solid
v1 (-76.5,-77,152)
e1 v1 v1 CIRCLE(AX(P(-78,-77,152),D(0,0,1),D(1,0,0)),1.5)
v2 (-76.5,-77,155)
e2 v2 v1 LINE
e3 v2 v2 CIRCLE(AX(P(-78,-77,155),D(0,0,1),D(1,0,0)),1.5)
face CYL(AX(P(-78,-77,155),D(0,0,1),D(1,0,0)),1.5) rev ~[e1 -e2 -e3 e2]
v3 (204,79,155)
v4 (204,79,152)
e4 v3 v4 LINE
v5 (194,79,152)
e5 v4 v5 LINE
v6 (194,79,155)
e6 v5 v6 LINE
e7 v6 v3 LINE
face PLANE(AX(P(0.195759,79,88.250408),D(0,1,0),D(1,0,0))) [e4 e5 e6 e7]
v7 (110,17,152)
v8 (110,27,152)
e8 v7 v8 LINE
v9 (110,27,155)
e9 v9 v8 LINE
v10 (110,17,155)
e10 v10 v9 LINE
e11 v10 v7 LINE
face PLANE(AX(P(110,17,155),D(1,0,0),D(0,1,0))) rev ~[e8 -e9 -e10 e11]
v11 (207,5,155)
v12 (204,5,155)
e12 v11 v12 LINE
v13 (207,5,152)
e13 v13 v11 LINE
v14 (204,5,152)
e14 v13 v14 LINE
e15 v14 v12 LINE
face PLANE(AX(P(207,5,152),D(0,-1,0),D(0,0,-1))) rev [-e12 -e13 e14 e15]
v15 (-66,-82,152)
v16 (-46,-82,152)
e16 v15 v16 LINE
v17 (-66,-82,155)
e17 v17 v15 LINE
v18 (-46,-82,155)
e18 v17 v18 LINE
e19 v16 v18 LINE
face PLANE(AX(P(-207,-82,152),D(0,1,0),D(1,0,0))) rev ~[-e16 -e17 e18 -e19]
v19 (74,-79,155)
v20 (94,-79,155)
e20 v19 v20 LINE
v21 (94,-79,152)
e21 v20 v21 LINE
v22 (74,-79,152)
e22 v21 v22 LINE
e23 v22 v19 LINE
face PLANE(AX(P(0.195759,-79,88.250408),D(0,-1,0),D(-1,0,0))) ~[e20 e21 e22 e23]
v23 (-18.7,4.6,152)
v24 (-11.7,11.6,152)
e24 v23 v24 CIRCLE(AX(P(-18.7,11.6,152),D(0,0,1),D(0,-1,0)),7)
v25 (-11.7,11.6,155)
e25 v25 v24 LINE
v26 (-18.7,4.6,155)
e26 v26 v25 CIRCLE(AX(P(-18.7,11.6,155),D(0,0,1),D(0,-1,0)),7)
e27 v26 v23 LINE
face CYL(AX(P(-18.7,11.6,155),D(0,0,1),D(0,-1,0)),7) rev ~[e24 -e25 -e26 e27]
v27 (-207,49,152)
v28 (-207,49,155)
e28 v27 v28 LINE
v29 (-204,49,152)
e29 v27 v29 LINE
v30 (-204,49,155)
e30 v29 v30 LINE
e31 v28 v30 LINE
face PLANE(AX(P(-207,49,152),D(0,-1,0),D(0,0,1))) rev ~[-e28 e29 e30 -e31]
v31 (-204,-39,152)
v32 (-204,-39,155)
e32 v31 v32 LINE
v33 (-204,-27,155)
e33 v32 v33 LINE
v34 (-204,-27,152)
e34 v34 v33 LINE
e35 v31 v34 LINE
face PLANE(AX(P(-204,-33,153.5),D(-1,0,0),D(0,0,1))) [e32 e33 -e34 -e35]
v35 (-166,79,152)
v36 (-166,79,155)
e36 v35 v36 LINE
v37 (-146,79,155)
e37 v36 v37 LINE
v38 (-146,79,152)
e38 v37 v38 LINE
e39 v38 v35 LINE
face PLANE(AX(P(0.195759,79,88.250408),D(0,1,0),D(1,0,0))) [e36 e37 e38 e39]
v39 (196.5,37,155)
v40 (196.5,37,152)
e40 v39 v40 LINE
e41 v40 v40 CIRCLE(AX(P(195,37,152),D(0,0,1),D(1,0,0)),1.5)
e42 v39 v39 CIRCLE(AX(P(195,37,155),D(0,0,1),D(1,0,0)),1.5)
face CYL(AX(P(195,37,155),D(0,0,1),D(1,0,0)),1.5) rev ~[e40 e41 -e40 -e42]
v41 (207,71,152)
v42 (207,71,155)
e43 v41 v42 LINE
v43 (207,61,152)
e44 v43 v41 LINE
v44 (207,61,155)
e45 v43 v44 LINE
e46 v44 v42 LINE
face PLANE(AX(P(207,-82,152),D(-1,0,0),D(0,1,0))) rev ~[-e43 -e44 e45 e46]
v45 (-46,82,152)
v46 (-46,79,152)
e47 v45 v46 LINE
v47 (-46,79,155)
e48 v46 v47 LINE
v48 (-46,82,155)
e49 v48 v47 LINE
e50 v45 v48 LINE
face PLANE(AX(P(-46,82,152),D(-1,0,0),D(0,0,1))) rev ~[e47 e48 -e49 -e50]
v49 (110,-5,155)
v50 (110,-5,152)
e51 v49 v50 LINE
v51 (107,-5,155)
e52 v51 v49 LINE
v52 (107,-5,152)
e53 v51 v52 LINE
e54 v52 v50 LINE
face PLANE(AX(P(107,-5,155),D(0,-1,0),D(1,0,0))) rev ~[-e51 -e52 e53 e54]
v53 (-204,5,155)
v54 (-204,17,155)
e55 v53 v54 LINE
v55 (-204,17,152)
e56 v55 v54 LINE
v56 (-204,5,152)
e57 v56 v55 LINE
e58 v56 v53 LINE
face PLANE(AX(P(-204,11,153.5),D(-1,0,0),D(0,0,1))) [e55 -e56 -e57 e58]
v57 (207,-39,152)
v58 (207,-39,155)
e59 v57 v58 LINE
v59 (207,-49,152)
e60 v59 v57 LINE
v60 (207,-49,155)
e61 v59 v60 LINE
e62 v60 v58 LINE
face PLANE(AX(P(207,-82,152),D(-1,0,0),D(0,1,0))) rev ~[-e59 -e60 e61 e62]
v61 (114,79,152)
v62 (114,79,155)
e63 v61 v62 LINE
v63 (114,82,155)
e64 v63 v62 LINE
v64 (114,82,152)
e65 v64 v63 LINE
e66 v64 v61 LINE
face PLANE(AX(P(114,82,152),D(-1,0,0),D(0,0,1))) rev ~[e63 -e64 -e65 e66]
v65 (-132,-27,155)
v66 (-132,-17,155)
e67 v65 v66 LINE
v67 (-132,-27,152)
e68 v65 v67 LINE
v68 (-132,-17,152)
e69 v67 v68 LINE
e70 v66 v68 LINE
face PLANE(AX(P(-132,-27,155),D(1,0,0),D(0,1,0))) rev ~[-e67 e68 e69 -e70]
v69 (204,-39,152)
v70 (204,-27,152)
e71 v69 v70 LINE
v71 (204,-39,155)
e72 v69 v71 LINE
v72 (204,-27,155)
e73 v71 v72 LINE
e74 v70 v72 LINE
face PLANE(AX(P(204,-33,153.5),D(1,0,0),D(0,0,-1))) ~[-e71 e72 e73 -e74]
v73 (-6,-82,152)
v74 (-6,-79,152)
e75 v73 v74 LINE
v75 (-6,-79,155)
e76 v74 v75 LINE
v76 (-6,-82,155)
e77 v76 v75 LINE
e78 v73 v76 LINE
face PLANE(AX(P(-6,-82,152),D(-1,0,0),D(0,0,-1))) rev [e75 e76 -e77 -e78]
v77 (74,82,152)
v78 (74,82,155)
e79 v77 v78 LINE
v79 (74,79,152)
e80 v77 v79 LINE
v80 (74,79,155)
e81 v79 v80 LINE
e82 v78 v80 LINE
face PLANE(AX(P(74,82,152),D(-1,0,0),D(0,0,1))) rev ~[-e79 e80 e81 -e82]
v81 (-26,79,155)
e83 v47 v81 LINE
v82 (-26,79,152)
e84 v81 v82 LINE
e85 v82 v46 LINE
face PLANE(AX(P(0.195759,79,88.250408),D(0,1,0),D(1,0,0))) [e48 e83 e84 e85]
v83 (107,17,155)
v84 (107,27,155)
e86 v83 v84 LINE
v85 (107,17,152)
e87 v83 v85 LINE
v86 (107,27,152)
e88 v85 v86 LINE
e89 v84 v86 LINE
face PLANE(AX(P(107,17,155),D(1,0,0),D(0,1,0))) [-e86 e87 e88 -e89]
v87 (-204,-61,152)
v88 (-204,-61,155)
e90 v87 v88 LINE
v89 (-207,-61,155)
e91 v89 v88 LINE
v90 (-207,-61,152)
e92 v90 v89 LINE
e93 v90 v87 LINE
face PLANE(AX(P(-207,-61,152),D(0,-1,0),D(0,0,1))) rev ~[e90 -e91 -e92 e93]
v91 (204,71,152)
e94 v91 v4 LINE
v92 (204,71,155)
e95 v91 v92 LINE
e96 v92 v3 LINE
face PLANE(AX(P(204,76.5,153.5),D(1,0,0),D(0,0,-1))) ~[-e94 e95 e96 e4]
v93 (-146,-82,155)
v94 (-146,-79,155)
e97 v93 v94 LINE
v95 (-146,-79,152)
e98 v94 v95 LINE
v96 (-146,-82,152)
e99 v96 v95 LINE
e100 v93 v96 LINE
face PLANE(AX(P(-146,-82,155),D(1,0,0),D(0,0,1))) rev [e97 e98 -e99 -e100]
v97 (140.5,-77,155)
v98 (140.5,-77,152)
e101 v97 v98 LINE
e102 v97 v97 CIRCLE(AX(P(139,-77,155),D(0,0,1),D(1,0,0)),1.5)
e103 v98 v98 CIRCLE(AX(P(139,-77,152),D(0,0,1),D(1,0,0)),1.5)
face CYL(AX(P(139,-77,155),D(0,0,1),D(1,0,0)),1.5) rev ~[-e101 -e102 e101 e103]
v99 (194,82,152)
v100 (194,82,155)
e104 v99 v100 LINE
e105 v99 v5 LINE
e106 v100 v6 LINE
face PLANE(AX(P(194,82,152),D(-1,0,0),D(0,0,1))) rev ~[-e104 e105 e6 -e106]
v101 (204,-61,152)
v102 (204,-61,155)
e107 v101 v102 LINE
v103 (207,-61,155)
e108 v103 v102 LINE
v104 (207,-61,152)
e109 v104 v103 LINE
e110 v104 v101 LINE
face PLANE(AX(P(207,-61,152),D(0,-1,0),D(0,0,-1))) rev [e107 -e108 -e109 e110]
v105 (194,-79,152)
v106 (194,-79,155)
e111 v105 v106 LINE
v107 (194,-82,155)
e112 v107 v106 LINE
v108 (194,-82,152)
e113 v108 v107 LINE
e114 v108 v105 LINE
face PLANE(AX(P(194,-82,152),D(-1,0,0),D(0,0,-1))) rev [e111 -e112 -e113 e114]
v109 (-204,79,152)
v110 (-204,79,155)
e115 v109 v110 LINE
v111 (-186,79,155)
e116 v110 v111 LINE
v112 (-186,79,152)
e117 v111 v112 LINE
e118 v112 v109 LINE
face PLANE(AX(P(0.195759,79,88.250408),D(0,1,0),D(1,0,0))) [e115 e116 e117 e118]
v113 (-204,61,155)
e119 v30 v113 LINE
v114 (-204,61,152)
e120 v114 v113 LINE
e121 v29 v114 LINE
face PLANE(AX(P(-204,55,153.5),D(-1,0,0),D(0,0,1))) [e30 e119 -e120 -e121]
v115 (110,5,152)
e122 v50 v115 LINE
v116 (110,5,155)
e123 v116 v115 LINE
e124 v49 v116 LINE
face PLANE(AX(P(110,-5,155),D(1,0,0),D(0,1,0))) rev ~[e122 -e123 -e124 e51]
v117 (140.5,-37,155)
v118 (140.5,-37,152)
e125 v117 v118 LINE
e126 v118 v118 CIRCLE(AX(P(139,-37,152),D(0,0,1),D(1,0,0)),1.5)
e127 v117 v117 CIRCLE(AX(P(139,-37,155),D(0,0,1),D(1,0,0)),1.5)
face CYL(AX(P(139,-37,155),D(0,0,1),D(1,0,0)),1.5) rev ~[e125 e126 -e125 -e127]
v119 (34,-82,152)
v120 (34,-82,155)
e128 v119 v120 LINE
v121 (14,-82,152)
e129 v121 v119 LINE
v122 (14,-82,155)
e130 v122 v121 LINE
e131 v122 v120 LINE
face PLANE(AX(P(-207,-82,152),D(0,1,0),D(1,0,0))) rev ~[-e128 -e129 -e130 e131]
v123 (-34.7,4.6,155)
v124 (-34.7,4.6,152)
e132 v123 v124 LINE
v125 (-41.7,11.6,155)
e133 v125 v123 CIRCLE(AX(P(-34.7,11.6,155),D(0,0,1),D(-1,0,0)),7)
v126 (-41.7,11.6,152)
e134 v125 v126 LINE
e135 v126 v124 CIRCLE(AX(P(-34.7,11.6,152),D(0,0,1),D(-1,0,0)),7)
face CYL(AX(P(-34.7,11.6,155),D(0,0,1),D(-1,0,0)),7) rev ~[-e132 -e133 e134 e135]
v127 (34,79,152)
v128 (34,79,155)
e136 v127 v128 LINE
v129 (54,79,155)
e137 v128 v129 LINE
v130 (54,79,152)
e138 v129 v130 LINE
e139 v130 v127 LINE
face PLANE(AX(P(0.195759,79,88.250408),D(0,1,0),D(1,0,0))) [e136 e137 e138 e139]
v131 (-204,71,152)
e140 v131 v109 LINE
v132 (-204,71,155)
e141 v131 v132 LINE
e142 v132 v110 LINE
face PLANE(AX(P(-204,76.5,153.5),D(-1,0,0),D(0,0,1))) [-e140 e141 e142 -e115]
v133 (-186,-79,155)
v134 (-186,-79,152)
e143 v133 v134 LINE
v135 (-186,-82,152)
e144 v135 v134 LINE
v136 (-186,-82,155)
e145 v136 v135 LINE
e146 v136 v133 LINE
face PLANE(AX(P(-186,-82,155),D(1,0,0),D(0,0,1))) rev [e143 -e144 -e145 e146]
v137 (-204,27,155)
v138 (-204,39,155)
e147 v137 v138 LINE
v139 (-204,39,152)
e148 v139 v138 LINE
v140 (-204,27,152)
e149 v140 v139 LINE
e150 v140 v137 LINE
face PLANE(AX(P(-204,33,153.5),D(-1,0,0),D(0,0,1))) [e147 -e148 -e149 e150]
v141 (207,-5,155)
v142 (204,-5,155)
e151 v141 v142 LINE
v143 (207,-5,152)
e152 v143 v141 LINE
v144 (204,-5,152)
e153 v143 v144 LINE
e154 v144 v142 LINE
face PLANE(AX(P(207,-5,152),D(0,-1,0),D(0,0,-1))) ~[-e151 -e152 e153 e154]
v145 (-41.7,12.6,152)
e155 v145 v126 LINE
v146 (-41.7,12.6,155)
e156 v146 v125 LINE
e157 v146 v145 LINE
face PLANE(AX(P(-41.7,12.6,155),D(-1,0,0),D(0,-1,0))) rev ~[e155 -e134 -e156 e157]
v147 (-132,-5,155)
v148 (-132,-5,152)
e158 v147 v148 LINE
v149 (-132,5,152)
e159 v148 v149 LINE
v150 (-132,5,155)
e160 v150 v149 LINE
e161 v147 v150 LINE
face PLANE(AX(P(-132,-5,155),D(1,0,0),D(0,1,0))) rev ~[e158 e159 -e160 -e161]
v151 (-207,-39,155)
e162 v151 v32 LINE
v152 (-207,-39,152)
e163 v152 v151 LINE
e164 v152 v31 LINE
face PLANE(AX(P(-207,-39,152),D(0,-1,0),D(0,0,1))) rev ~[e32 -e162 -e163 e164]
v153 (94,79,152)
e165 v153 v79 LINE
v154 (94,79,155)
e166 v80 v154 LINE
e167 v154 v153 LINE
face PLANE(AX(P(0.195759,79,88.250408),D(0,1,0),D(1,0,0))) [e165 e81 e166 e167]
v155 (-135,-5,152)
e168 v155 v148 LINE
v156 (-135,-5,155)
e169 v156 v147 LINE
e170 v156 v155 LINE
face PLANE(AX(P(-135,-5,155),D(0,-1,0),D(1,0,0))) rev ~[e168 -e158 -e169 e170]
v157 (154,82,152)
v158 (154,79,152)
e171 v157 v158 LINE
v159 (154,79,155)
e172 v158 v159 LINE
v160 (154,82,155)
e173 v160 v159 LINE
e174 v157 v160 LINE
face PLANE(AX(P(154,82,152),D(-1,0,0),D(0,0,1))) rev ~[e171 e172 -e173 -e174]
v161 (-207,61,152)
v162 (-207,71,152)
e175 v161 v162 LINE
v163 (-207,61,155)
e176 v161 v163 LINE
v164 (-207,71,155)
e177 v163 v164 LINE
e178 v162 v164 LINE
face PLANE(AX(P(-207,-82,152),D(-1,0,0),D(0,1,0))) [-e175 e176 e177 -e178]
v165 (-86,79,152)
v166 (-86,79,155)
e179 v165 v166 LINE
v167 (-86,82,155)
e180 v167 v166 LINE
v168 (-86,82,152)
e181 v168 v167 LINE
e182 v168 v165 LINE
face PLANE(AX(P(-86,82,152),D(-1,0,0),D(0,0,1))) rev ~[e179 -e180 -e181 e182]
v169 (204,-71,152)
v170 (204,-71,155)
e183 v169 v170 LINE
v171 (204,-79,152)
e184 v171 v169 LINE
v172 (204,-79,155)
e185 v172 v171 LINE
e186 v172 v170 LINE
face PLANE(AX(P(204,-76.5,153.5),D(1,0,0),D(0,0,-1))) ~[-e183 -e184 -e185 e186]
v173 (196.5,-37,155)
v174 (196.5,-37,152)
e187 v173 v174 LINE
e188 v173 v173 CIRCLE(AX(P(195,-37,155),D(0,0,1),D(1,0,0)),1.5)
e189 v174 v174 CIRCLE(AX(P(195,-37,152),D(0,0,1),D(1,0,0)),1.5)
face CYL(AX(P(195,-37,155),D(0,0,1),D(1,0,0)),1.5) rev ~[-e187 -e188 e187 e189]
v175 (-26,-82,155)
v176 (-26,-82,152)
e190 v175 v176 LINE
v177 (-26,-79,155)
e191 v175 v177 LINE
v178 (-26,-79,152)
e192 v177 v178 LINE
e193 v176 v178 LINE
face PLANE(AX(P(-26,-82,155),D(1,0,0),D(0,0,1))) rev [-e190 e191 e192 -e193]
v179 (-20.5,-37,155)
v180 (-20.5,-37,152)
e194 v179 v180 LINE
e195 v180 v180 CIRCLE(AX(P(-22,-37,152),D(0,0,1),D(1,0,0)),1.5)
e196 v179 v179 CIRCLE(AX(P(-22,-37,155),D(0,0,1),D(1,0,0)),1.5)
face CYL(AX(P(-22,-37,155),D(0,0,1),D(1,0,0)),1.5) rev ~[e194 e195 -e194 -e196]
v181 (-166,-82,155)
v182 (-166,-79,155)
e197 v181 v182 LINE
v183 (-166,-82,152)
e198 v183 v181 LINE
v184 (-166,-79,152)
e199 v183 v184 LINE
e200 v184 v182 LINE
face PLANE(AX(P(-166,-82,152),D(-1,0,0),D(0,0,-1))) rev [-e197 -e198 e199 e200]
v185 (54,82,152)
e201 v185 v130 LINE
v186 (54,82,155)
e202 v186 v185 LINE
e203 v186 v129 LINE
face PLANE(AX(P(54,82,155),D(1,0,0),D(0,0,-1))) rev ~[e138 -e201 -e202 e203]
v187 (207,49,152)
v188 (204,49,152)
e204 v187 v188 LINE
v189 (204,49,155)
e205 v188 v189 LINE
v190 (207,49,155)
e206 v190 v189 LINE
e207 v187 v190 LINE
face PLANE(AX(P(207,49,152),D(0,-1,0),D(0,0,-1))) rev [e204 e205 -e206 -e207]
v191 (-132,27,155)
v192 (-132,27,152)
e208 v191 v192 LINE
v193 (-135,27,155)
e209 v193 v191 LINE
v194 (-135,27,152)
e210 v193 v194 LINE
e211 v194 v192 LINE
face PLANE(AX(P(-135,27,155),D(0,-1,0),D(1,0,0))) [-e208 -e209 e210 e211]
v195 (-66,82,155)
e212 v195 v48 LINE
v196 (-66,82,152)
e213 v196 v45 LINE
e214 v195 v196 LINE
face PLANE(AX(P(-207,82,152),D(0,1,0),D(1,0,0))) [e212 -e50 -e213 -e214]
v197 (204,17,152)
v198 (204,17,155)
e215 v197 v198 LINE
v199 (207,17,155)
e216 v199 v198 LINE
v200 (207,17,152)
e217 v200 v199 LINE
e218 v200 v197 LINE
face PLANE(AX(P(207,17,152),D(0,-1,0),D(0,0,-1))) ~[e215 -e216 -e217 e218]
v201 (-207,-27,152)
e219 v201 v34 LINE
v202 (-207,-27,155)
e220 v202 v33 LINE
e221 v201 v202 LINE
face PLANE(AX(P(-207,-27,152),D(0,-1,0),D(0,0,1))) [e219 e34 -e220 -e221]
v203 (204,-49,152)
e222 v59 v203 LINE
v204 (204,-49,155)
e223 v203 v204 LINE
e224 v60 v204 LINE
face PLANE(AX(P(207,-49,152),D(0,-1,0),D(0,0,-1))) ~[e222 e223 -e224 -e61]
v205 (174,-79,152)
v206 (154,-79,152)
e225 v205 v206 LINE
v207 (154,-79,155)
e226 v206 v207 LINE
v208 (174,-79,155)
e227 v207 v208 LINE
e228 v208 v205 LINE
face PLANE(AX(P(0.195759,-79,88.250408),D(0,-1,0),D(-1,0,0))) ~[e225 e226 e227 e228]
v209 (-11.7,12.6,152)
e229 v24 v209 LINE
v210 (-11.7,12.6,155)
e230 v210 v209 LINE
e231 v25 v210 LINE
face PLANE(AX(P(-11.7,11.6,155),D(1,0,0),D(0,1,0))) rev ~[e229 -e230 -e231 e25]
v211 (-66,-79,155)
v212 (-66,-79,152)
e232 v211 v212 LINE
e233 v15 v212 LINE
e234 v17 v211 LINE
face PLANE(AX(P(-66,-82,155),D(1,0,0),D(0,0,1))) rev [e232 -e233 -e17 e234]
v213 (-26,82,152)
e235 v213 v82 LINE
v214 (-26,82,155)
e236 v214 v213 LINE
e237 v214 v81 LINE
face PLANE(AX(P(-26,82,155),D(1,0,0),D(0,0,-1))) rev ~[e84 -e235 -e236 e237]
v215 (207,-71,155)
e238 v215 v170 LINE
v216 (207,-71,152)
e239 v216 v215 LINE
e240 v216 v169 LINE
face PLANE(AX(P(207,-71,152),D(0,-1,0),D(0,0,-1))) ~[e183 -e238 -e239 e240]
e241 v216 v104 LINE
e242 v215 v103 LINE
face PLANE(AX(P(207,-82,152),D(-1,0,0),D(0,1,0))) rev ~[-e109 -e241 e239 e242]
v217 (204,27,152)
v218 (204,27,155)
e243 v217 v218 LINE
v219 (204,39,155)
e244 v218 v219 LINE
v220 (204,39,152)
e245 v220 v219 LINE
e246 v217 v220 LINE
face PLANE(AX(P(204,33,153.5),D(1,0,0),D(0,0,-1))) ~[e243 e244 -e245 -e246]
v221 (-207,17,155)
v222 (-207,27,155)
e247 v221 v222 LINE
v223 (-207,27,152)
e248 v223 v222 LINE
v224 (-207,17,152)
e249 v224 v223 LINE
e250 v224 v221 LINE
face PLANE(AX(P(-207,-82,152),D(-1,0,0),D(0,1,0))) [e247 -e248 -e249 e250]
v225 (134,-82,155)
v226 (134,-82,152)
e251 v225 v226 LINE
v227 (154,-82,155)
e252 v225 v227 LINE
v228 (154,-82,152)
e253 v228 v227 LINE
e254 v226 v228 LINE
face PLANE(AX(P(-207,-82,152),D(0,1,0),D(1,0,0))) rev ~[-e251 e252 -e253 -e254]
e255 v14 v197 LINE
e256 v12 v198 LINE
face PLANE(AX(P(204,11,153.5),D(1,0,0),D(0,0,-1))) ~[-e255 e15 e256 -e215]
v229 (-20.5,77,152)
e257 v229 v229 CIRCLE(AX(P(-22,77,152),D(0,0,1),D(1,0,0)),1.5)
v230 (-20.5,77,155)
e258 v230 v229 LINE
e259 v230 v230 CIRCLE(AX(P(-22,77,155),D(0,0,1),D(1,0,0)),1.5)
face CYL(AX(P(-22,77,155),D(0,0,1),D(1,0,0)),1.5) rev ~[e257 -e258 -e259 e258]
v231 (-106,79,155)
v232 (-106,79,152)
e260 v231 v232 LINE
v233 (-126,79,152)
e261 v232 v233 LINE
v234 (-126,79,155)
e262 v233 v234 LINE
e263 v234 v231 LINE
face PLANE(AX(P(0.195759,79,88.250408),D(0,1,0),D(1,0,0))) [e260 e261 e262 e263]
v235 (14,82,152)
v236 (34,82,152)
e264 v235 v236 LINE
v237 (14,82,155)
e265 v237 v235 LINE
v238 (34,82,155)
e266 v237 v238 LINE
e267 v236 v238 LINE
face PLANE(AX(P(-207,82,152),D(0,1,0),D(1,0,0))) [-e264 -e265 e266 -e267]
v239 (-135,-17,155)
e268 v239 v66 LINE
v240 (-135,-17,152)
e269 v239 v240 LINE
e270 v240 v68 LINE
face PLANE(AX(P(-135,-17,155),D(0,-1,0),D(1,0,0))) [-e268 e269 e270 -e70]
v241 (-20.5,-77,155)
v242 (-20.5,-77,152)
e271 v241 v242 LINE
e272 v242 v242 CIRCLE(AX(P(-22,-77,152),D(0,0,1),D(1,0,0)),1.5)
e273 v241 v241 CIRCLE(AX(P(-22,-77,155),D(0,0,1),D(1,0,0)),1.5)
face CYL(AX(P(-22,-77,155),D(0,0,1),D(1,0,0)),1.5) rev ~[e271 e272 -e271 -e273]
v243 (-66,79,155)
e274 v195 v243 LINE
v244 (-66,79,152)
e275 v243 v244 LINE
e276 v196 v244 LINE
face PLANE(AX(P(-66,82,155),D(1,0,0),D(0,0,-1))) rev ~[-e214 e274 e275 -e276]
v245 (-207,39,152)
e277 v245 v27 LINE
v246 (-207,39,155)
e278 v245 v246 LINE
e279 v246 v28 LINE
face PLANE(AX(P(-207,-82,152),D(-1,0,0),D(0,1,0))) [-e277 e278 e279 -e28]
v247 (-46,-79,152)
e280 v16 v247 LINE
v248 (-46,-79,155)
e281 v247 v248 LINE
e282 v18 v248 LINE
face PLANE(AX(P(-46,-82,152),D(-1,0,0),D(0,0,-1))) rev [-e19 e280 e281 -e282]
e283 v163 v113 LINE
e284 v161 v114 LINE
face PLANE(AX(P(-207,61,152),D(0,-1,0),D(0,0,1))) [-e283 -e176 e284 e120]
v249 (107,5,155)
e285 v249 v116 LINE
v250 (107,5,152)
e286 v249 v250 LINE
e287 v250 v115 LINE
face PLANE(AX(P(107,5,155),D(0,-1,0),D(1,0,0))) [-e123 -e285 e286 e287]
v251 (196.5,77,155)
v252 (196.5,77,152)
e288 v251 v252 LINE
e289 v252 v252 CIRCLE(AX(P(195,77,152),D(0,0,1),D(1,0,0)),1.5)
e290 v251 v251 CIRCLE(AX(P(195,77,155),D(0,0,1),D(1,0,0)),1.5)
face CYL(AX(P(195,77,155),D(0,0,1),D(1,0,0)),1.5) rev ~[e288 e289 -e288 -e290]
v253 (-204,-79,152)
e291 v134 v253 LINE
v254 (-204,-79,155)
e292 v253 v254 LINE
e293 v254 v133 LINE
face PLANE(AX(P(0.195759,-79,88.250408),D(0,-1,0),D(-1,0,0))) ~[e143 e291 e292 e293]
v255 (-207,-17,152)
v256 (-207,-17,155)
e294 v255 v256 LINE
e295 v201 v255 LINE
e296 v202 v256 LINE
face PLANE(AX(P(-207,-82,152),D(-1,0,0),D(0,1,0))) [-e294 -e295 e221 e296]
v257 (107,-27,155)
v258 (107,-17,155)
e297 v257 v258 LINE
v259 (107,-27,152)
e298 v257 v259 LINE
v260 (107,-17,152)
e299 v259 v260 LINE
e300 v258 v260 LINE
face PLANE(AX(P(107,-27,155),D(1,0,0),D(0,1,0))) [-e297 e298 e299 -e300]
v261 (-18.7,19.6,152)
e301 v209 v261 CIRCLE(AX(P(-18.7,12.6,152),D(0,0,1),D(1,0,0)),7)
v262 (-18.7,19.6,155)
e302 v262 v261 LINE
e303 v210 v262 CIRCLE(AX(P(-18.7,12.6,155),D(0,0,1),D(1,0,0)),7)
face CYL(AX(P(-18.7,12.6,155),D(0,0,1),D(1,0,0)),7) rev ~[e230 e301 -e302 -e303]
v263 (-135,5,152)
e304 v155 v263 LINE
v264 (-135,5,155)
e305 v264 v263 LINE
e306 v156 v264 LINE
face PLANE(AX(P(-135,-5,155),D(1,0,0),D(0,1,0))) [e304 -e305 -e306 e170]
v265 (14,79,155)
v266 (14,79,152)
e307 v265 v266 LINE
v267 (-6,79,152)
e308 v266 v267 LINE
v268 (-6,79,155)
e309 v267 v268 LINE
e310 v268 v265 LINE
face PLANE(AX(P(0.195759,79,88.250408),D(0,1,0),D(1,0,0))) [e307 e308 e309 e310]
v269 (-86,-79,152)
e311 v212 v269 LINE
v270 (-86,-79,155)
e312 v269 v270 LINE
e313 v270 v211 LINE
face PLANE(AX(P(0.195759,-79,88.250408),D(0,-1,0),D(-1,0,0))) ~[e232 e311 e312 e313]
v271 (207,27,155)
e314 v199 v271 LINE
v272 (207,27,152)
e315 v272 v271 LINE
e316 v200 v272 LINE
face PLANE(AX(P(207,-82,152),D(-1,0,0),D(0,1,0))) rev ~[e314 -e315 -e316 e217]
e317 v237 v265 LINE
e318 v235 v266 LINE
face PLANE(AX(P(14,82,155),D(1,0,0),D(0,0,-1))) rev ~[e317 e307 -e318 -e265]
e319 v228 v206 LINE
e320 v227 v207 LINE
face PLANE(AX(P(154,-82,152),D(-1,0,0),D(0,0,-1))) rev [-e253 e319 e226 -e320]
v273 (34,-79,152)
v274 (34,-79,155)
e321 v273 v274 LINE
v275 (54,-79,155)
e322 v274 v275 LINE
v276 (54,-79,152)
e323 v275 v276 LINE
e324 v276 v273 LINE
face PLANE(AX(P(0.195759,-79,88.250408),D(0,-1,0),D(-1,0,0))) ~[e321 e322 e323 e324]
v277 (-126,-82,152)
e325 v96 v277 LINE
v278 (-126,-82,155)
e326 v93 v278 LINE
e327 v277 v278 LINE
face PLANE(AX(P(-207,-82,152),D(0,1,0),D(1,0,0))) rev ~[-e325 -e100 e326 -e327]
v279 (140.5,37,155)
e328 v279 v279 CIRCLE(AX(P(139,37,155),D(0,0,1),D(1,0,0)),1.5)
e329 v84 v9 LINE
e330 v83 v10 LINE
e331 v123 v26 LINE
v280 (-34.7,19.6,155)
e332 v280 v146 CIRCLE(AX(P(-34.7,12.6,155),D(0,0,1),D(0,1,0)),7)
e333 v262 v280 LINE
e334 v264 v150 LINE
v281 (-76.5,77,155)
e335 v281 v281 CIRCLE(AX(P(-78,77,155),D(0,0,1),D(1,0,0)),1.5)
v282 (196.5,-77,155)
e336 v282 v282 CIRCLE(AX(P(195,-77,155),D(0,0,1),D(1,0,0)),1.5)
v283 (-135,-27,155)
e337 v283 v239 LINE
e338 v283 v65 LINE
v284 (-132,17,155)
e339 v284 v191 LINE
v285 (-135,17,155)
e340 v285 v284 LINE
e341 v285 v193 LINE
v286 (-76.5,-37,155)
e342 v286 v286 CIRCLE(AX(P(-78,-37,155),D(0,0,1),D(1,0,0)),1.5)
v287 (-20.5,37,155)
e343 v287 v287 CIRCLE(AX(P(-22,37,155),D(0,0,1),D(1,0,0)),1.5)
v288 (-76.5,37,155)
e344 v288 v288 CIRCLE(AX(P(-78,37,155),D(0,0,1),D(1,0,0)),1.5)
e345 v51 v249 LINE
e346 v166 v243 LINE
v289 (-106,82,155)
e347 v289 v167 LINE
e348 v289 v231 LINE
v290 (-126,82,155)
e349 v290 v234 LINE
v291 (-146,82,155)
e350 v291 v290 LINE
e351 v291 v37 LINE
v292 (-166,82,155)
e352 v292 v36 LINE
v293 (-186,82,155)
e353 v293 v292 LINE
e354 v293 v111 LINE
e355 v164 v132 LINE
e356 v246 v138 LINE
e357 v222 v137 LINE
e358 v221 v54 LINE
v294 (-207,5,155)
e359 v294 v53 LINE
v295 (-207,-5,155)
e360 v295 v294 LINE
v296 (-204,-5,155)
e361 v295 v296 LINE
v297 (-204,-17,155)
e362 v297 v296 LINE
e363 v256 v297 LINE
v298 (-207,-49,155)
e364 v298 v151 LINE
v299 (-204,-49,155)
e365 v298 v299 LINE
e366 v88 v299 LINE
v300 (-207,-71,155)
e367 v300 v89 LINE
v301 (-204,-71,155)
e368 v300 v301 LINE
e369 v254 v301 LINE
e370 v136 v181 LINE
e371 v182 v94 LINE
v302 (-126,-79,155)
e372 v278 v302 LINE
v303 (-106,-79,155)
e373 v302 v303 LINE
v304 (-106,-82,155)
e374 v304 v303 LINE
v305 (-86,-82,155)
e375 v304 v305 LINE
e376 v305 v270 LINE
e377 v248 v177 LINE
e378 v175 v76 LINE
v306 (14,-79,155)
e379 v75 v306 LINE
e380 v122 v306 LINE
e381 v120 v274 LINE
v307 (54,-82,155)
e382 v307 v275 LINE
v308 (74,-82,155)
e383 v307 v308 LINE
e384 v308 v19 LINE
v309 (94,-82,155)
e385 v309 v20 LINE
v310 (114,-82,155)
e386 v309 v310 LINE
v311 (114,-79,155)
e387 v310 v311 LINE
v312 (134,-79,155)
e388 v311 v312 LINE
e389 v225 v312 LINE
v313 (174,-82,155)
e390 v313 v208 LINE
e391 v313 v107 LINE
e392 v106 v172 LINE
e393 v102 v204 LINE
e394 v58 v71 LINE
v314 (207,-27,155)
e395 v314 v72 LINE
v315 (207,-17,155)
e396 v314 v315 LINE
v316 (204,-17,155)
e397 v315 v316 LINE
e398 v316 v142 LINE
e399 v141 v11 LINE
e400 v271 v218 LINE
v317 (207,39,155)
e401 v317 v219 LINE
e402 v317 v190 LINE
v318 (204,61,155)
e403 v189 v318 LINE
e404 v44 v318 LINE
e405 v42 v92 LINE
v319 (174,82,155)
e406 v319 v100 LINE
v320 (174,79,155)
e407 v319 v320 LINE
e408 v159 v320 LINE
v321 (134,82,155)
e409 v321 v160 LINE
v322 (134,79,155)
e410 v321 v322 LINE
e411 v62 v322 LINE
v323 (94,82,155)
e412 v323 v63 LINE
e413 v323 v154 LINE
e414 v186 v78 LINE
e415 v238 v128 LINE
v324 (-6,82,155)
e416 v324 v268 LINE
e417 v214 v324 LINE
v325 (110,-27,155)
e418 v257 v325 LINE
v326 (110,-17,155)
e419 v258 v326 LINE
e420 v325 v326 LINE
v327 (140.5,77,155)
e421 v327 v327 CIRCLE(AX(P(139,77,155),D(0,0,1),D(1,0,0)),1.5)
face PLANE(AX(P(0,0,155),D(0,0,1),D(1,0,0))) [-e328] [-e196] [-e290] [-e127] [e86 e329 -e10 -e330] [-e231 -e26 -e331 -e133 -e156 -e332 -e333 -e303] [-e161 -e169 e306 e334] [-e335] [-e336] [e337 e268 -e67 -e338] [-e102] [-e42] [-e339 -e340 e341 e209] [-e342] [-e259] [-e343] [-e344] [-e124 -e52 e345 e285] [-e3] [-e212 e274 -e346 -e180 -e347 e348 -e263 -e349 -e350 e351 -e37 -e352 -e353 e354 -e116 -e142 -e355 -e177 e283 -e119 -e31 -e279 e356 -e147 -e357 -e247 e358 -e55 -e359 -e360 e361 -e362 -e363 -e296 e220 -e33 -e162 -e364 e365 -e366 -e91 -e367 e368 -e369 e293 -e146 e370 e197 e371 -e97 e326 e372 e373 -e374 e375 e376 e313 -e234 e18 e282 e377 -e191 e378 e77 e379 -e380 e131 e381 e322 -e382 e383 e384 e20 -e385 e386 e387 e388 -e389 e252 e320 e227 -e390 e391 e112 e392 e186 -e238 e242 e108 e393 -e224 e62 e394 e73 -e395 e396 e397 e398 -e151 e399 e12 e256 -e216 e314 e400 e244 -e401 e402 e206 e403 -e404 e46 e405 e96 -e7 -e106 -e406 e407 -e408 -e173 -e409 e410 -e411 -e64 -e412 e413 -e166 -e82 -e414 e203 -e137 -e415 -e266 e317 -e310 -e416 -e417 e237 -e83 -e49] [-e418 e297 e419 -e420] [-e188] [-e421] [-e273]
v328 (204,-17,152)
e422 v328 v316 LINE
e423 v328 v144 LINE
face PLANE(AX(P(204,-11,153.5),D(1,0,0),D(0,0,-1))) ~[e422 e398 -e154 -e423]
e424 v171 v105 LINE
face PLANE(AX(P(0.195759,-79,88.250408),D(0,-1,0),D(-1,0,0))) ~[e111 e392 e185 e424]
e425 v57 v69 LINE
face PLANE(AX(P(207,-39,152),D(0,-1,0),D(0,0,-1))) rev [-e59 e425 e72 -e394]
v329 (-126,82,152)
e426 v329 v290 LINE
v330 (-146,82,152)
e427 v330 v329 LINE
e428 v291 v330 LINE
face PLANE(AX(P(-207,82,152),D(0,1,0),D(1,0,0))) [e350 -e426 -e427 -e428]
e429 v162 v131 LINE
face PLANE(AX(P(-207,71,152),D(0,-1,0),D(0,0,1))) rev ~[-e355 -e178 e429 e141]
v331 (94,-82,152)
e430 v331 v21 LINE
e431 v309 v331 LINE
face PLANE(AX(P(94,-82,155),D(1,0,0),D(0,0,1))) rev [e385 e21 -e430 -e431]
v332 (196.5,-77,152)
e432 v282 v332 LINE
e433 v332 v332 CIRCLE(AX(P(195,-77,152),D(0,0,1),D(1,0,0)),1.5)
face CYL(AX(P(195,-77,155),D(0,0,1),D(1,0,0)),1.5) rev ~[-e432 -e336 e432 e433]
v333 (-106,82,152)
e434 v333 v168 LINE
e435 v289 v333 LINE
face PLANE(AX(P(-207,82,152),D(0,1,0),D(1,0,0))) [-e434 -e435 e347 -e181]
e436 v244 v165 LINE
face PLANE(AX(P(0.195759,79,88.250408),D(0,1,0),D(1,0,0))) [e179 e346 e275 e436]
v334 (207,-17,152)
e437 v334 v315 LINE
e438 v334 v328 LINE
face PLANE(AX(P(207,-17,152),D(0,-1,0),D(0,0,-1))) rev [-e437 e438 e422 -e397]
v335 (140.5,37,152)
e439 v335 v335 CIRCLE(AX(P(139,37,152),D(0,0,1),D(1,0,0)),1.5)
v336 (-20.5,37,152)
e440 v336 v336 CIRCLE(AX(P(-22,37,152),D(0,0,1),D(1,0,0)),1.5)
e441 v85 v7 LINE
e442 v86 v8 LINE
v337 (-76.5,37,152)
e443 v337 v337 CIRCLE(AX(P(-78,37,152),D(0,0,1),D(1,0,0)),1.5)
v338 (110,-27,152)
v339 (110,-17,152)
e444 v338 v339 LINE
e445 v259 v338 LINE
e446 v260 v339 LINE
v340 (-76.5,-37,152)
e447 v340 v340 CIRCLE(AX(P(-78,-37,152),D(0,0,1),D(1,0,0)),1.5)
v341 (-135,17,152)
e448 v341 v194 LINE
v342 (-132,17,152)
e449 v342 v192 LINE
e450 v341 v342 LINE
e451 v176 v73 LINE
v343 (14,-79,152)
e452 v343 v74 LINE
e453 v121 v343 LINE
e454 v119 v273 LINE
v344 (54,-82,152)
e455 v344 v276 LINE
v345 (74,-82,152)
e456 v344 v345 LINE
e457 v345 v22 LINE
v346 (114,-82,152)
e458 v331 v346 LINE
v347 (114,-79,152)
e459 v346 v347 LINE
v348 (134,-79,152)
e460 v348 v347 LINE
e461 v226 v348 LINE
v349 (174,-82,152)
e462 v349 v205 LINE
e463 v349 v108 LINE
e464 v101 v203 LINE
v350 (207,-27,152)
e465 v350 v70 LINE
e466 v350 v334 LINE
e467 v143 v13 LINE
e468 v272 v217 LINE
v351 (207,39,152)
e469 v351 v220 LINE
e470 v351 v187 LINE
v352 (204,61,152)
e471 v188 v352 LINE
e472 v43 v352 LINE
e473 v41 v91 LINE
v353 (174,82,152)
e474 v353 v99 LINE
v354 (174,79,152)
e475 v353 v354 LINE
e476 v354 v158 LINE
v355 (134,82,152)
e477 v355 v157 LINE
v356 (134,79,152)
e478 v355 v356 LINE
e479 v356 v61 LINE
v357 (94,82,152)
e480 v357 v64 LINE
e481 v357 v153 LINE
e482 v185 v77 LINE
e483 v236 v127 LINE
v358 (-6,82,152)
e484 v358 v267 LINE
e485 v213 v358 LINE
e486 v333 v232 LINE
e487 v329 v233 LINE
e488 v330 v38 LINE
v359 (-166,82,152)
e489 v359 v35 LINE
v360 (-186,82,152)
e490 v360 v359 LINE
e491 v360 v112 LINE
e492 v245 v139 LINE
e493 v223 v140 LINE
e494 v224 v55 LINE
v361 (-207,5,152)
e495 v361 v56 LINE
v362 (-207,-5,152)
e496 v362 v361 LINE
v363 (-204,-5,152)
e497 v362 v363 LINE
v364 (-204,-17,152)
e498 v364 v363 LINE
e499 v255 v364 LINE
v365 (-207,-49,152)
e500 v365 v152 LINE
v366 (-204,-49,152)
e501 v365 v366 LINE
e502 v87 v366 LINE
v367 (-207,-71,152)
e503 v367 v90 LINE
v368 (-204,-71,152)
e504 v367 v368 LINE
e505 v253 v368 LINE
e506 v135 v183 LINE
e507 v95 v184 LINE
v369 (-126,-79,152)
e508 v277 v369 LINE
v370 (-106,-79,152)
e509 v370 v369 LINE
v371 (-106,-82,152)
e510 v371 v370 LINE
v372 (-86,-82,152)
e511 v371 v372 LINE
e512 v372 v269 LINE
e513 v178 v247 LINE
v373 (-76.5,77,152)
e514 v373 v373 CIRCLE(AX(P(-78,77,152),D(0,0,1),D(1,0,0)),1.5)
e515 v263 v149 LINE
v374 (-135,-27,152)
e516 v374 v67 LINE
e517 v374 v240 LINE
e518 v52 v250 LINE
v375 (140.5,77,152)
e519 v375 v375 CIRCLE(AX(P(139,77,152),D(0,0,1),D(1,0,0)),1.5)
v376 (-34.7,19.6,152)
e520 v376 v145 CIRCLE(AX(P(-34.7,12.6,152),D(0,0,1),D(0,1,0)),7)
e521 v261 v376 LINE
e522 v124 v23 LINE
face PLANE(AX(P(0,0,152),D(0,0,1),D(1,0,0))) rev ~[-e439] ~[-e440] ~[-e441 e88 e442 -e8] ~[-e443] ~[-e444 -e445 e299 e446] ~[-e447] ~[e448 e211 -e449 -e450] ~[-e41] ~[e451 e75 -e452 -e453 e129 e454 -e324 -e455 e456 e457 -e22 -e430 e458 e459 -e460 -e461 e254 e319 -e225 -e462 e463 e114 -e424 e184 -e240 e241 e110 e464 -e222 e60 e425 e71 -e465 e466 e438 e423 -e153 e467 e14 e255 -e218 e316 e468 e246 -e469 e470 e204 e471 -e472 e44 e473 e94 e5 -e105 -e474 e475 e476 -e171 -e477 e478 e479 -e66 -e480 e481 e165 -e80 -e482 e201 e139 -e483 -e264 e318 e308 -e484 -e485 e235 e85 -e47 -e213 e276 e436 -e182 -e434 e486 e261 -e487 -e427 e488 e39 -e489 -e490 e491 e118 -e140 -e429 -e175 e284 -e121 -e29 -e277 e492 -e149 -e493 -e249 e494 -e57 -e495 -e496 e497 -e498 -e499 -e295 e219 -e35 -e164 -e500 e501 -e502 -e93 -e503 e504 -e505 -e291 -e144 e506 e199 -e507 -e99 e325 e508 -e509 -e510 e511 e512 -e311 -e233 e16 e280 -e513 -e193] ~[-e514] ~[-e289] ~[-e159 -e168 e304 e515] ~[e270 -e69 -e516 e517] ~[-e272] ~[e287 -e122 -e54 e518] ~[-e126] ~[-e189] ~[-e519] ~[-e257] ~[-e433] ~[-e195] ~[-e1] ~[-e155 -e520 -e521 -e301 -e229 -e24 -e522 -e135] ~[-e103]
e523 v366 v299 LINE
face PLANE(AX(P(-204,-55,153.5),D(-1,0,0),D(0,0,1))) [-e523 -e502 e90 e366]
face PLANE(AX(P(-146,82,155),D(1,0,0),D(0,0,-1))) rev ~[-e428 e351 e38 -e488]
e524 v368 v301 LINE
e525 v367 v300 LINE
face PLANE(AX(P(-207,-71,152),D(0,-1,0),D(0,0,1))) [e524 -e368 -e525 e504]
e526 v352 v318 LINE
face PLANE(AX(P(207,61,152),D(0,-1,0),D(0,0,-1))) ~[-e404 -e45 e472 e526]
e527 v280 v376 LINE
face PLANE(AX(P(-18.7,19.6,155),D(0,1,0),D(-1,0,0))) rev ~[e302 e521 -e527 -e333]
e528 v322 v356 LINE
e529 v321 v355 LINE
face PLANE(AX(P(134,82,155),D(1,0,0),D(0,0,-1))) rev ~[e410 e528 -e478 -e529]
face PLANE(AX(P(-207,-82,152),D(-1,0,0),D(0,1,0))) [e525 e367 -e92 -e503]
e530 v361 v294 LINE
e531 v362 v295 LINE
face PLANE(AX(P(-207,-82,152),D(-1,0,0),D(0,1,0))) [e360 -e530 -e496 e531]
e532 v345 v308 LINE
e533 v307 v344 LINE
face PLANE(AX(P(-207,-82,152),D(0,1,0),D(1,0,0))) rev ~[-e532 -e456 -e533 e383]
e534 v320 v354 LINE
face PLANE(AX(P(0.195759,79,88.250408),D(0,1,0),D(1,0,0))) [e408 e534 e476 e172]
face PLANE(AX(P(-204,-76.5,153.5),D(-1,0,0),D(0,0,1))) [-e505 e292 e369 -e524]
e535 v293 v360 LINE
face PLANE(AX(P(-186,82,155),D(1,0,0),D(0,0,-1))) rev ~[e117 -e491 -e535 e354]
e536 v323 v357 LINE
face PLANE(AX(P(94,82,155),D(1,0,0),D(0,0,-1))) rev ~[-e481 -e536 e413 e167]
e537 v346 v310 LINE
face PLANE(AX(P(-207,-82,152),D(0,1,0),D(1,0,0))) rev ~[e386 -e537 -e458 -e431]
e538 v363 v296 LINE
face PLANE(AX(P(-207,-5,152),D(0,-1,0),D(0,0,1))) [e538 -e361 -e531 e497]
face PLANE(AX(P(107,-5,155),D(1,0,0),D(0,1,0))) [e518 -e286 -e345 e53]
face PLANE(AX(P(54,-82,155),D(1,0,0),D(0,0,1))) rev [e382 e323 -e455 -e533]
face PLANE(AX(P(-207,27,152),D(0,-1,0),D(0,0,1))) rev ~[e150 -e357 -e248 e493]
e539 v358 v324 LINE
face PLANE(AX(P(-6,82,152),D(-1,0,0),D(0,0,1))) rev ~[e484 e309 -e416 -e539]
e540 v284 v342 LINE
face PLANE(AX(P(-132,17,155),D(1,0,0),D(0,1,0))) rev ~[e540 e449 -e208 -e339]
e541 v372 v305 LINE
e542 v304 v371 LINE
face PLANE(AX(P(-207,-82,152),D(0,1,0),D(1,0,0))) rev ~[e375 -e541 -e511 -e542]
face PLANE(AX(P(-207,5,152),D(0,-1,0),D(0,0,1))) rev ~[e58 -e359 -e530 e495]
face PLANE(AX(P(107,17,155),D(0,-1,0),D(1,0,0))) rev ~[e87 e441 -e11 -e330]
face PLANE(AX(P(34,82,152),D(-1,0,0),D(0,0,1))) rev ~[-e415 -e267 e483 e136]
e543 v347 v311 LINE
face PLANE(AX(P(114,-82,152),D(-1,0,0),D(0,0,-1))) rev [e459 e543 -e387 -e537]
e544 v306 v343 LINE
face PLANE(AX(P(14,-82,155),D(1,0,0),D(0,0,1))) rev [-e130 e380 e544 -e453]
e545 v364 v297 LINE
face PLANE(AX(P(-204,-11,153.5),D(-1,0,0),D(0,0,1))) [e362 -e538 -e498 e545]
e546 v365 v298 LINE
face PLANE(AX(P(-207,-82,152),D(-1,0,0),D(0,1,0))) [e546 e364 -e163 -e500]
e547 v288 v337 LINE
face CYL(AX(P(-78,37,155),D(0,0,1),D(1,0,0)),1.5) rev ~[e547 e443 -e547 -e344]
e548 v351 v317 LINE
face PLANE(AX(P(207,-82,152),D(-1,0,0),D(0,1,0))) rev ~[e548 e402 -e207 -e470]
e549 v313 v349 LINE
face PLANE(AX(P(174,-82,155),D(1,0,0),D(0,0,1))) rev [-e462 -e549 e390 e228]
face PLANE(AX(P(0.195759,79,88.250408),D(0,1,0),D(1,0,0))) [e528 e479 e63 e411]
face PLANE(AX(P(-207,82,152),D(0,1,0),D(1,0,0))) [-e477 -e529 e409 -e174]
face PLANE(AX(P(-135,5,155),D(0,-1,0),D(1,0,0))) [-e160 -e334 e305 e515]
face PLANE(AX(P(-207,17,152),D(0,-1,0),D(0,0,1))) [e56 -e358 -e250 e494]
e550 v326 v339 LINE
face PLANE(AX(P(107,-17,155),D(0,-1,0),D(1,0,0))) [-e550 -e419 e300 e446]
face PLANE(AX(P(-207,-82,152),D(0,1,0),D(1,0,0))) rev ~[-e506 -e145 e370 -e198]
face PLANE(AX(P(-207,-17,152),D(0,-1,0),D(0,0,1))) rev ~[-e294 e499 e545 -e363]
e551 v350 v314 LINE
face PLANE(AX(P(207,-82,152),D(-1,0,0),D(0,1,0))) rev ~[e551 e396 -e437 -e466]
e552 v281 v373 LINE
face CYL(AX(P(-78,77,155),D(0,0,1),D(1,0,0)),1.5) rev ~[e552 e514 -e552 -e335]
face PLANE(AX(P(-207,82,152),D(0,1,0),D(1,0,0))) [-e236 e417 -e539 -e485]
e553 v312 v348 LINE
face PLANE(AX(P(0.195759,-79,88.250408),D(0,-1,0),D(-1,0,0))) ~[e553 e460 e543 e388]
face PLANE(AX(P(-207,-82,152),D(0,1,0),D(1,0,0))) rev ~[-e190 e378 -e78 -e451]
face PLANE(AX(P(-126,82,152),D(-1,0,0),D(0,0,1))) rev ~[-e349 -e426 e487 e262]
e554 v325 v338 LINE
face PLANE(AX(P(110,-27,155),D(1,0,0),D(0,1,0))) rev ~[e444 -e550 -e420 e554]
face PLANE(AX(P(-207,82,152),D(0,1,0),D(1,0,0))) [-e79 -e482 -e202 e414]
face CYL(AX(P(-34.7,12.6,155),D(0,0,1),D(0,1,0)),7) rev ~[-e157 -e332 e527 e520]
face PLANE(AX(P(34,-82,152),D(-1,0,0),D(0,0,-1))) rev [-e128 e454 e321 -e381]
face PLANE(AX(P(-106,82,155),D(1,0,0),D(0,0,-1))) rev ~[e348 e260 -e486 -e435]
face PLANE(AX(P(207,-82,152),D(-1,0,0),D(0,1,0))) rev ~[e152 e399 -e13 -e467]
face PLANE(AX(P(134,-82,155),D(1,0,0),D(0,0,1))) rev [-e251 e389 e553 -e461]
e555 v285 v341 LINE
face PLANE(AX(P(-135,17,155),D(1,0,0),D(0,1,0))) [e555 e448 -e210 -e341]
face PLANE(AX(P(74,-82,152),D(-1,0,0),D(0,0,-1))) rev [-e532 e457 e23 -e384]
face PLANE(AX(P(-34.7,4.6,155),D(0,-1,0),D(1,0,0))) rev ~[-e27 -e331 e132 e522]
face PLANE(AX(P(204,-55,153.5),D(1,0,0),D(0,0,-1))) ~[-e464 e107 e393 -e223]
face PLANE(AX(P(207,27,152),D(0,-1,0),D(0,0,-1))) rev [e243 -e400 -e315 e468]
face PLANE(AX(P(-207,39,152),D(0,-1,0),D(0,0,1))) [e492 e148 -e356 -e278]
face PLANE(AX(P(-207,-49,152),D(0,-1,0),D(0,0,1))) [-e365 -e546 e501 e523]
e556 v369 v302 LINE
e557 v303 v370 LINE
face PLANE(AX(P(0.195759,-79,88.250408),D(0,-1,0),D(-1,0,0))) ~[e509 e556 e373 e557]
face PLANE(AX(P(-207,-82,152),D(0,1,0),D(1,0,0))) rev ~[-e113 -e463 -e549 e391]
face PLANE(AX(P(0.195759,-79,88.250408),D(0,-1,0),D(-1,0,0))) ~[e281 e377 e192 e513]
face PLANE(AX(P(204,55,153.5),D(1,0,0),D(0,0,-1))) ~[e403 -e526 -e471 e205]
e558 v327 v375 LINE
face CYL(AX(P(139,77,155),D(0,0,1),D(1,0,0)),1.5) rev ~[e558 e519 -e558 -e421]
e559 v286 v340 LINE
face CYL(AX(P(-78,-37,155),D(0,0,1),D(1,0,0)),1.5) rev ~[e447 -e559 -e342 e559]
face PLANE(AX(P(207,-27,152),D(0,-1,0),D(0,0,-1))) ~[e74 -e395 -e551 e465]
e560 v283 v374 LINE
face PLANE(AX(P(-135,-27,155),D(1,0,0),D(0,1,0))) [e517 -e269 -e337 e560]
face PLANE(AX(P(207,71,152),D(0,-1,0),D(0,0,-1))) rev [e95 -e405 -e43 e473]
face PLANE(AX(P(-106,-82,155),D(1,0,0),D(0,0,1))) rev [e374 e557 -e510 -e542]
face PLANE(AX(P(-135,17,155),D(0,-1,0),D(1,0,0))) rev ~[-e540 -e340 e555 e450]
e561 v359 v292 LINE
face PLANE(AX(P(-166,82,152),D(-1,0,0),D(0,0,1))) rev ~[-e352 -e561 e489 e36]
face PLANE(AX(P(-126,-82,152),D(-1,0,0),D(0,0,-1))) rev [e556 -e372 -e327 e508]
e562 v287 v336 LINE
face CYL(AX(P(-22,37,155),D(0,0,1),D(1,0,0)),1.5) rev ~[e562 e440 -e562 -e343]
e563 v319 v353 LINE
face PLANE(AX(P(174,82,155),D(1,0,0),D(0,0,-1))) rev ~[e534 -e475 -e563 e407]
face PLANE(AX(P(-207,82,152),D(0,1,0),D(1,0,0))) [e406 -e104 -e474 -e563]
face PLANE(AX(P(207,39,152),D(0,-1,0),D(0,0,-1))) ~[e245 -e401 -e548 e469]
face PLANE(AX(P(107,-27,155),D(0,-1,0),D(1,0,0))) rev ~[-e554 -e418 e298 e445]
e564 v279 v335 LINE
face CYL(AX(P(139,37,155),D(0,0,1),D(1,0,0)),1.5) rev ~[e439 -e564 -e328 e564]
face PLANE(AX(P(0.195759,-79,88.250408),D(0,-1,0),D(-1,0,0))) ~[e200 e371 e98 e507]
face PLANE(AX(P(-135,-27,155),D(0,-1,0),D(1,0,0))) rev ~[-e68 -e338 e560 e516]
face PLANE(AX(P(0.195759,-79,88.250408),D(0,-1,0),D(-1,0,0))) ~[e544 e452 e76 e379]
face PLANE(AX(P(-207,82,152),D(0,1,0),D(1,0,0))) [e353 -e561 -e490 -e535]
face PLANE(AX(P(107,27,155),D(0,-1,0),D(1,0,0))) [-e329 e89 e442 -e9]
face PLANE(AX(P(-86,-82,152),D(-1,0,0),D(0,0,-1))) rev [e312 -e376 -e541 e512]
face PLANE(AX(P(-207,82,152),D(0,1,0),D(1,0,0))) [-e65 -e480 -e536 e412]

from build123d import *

# Parameters (mm, degrees)
SKETCH1_W           = 414
SKETCH1_H           = 164
BOSS_EXTRUDE1_DEPTH = 3
SKETCH2_W           = 3
SKETCH2_H           = 11
SKETCH2_H_2         = 12
CUT_EXTRUDE1_DEPTH  = 3
CUT_EXTRUDE2_DEPTH  = 3
SKETCH4_R           = 1.5
SKETCH4_W           = 3
SKETCH4_H           = 10
CUT_EXTRUDE3_DEPTH  = 10
CUT_EXTRUDE4_DEPTH  = 10


with BuildPart() as part:
    # Sketch1 → Boss-Extrude1 (new body)
    with BuildSketch(Plane.XY.offset(152)):
        Rectangle(SKETCH1_W, SKETCH1_H)
    extrude(amount=BOSS_EXTRUDE1_DEPTH)

    # Sketch2 → Cut-Extrude1 (cut)
    with BuildSketch(Plane.ZY.offset(207)):
        with Locations((153.5, -76.5)):
            Rectangle(SKETCH2_W, SKETCH2_H)
        with Locations((153.5, -55)):
            Rectangle(SKETCH2_W, SKETCH2_H_2)
        with Locations((153.5, -33)):
            Rectangle(SKETCH2_W, SKETCH2_H_2)
        with Locations((153.5, -11)):
            Rectangle(SKETCH2_W, SKETCH2_H_2)
        with Locations((153.5, 11)):
            Rectangle(SKETCH2_W, SKETCH2_H_2)
        with Locations((153.5, 33)):
            Rectangle(SKETCH2_W, SKETCH2_H_2)
        with Locations((153.5, 55)):
            Rectangle(SKETCH2_W, SKETCH2_H_2)
        with Locations((153.5, 76.5)):
            Rectangle(SKETCH2_W, SKETCH2_H)
    cut_extrude1 = extrude(amount=-CUT_EXTRUDE1_DEPTH, mode=Mode.SUBTRACT)

    # Mirror1: Cut-Extrude1 across plane
    add(cut_extrude1.mirror(Plane(origin=(0, 0, 0), x_dir=(0, 0, 1), z_dir=(1, 0, 0))), mode=Mode.SUBTRACT)

    # Sketch3 → Cut-Extrude2 (cut)
    with BuildSketch(Plane(origin=(0, 82, 0), x_dir=(1, 0, 0), z_dir=(0, 1, 0))):
        Polygon((174, -152), (194, -152), (194, -155), (204, -155), (204, -145), (207, -145), (207, -133), (204, -133), (204, -123), (207, -123), (207, -111), (204, -111), (204, -101), (207, -101), (207, -89), (204, -89), (204, -79), (207, -79), (207, -67), (204, -67), (204, -57), (207, -57), (207, -45), (204, -45), (204, -35), (207, -35), (207, -23), (204, -23), (204, -16), (-204, -16), (-204, -23), (-207, -23), (-207, -35), (-204, -35), (-204, -45), (-207, -45), (-207, -57), (-204, -57), (-204, -67), (-207, -67), (-207, -79), (-204, -79), (-204, -89), (-207, -89), (-207, -101), (-204, -101), (-204, -111), (-207, -111), (-207, -123), (-204, -123), (-204, -133), (-207, -133), (-207, -145), (-204, -145), (-204, -155), (-186, -155), (-186, -152), (-166, -152), (-166, -155), (-146, -155), (-146, -152), (-126, -152), (-126, -155), (-106, -155), (-106, -152), (-86, -152), (-86, -155), (-66, -155), (-66, -152), (-46, -152), (-46, -155), (-26, -155), (-26, -152), (-6, -152), (-6, -155), (14, -155), (14, -152), (34, -152), (34, -155), (54, -155), (54, -152), (74, -152), (74, -155), (94, -155), (94, -152), (114, -152), (114, -155), (134, -155), (134, -152), (154, -152), (154, -155), (174, -155), align=None)
    cut_extrude2 = extrude(amount=-CUT_EXTRUDE2_DEPTH, mode=Mode.SUBTRACT)

    # Mirror2: Cut-Extrude2 across plane
    add(cut_extrude2.mirror(Plane.ZX), mode=Mode.SUBTRACT)

    # Sketch4 → Cut-Extrude3 (cut)
    with BuildSketch(Plane.XY.offset(155)):
        with Locations((139, 37)):
            Circle(SKETCH4_R)
        with Locations((195, 37)):
            Circle(SKETCH4_R)
        with Locations((195, 77)):
            Circle(SKETCH4_R)
        with Locations((139, 77)):
            Circle(SKETCH4_R)
        with Locations((-78, 77)):
            Circle(SKETCH4_R)
        with Locations((-22, 77)):
            Circle(SKETCH4_R)
        with Locations((-78, 37)):
            Circle(SKETCH4_R)
        with Locations((-22, 37)):
            Circle(SKETCH4_R)
        with Locations((139, -77)):
            Circle(SKETCH4_R)
        with Locations((195, -77)):
            Circle(SKETCH4_R)
        with Locations((195, -37)):
            Circle(SKETCH4_R)
        with Locations((139, -37)):
            Circle(SKETCH4_R)
        with Locations((-22, -37)):
            Circle(SKETCH4_R)
        with Locations((-78, -37)):
            Circle(SKETCH4_R)
        with Locations((-22, -77)):
            Circle(SKETCH4_R)
        with Locations((-78, -77)):
            Circle(SKETCH4_R)
        with Locations((-133.5, 22)):
            Rectangle(SKETCH4_W, SKETCH4_H)
        with Locations((-133.5, 0)):
            Rectangle(SKETCH4_W, SKETCH4_H)
        with Locations((-133.5, -22)):
            Rectangle(SKETCH4_W, SKETCH4_H)
        with Locations((108.5, 22)):
            Rectangle(SKETCH4_W, SKETCH4_H)
        with Locations((108.5, 0)):
            Rectangle(SKETCH4_W, SKETCH4_H)
        with Locations((108.5, -22)):
            Rectangle(SKETCH4_W, SKETCH4_H)
    extrude(amount=-CUT_EXTRUDE3_DEPTH, mode=Mode.SUBTRACT)

    # Sketch5 → Cut-Extrude4 (cut)
    with BuildSketch(Plane.XY.offset(155)):
        with BuildLine():
            Line((-34.7, 4.6), (-18.7, 4.6))
            ThreePointArc((-18.7, 4.6), (-13.750252532, 6.650252532), (-11.7, 11.6))
            Line((-11.7, 11.6), (-11.7, 12.6))
            ThreePointArc((-11.7, 12.6), (-13.750252532, 17.549747468), (-18.7, 19.6))
            Line((-18.7, 19.6), (-34.7, 19.6))
            ThreePointArc((-34.7, 19.6), (-39.649747468, 17.549747468), (-41.7, 12.6))
            Line((-41.7, 12.6), (-41.7, 11.6))
            ThreePointArc((-41.7, 11.6), (-39.649747468, 6.650252532), (-34.7, 4.6))
        make_face()
    extrude(amount=-CUT_EXTRUDE4_DEPTH, mode=Mode.SUBTRACT)


solid = part.part
